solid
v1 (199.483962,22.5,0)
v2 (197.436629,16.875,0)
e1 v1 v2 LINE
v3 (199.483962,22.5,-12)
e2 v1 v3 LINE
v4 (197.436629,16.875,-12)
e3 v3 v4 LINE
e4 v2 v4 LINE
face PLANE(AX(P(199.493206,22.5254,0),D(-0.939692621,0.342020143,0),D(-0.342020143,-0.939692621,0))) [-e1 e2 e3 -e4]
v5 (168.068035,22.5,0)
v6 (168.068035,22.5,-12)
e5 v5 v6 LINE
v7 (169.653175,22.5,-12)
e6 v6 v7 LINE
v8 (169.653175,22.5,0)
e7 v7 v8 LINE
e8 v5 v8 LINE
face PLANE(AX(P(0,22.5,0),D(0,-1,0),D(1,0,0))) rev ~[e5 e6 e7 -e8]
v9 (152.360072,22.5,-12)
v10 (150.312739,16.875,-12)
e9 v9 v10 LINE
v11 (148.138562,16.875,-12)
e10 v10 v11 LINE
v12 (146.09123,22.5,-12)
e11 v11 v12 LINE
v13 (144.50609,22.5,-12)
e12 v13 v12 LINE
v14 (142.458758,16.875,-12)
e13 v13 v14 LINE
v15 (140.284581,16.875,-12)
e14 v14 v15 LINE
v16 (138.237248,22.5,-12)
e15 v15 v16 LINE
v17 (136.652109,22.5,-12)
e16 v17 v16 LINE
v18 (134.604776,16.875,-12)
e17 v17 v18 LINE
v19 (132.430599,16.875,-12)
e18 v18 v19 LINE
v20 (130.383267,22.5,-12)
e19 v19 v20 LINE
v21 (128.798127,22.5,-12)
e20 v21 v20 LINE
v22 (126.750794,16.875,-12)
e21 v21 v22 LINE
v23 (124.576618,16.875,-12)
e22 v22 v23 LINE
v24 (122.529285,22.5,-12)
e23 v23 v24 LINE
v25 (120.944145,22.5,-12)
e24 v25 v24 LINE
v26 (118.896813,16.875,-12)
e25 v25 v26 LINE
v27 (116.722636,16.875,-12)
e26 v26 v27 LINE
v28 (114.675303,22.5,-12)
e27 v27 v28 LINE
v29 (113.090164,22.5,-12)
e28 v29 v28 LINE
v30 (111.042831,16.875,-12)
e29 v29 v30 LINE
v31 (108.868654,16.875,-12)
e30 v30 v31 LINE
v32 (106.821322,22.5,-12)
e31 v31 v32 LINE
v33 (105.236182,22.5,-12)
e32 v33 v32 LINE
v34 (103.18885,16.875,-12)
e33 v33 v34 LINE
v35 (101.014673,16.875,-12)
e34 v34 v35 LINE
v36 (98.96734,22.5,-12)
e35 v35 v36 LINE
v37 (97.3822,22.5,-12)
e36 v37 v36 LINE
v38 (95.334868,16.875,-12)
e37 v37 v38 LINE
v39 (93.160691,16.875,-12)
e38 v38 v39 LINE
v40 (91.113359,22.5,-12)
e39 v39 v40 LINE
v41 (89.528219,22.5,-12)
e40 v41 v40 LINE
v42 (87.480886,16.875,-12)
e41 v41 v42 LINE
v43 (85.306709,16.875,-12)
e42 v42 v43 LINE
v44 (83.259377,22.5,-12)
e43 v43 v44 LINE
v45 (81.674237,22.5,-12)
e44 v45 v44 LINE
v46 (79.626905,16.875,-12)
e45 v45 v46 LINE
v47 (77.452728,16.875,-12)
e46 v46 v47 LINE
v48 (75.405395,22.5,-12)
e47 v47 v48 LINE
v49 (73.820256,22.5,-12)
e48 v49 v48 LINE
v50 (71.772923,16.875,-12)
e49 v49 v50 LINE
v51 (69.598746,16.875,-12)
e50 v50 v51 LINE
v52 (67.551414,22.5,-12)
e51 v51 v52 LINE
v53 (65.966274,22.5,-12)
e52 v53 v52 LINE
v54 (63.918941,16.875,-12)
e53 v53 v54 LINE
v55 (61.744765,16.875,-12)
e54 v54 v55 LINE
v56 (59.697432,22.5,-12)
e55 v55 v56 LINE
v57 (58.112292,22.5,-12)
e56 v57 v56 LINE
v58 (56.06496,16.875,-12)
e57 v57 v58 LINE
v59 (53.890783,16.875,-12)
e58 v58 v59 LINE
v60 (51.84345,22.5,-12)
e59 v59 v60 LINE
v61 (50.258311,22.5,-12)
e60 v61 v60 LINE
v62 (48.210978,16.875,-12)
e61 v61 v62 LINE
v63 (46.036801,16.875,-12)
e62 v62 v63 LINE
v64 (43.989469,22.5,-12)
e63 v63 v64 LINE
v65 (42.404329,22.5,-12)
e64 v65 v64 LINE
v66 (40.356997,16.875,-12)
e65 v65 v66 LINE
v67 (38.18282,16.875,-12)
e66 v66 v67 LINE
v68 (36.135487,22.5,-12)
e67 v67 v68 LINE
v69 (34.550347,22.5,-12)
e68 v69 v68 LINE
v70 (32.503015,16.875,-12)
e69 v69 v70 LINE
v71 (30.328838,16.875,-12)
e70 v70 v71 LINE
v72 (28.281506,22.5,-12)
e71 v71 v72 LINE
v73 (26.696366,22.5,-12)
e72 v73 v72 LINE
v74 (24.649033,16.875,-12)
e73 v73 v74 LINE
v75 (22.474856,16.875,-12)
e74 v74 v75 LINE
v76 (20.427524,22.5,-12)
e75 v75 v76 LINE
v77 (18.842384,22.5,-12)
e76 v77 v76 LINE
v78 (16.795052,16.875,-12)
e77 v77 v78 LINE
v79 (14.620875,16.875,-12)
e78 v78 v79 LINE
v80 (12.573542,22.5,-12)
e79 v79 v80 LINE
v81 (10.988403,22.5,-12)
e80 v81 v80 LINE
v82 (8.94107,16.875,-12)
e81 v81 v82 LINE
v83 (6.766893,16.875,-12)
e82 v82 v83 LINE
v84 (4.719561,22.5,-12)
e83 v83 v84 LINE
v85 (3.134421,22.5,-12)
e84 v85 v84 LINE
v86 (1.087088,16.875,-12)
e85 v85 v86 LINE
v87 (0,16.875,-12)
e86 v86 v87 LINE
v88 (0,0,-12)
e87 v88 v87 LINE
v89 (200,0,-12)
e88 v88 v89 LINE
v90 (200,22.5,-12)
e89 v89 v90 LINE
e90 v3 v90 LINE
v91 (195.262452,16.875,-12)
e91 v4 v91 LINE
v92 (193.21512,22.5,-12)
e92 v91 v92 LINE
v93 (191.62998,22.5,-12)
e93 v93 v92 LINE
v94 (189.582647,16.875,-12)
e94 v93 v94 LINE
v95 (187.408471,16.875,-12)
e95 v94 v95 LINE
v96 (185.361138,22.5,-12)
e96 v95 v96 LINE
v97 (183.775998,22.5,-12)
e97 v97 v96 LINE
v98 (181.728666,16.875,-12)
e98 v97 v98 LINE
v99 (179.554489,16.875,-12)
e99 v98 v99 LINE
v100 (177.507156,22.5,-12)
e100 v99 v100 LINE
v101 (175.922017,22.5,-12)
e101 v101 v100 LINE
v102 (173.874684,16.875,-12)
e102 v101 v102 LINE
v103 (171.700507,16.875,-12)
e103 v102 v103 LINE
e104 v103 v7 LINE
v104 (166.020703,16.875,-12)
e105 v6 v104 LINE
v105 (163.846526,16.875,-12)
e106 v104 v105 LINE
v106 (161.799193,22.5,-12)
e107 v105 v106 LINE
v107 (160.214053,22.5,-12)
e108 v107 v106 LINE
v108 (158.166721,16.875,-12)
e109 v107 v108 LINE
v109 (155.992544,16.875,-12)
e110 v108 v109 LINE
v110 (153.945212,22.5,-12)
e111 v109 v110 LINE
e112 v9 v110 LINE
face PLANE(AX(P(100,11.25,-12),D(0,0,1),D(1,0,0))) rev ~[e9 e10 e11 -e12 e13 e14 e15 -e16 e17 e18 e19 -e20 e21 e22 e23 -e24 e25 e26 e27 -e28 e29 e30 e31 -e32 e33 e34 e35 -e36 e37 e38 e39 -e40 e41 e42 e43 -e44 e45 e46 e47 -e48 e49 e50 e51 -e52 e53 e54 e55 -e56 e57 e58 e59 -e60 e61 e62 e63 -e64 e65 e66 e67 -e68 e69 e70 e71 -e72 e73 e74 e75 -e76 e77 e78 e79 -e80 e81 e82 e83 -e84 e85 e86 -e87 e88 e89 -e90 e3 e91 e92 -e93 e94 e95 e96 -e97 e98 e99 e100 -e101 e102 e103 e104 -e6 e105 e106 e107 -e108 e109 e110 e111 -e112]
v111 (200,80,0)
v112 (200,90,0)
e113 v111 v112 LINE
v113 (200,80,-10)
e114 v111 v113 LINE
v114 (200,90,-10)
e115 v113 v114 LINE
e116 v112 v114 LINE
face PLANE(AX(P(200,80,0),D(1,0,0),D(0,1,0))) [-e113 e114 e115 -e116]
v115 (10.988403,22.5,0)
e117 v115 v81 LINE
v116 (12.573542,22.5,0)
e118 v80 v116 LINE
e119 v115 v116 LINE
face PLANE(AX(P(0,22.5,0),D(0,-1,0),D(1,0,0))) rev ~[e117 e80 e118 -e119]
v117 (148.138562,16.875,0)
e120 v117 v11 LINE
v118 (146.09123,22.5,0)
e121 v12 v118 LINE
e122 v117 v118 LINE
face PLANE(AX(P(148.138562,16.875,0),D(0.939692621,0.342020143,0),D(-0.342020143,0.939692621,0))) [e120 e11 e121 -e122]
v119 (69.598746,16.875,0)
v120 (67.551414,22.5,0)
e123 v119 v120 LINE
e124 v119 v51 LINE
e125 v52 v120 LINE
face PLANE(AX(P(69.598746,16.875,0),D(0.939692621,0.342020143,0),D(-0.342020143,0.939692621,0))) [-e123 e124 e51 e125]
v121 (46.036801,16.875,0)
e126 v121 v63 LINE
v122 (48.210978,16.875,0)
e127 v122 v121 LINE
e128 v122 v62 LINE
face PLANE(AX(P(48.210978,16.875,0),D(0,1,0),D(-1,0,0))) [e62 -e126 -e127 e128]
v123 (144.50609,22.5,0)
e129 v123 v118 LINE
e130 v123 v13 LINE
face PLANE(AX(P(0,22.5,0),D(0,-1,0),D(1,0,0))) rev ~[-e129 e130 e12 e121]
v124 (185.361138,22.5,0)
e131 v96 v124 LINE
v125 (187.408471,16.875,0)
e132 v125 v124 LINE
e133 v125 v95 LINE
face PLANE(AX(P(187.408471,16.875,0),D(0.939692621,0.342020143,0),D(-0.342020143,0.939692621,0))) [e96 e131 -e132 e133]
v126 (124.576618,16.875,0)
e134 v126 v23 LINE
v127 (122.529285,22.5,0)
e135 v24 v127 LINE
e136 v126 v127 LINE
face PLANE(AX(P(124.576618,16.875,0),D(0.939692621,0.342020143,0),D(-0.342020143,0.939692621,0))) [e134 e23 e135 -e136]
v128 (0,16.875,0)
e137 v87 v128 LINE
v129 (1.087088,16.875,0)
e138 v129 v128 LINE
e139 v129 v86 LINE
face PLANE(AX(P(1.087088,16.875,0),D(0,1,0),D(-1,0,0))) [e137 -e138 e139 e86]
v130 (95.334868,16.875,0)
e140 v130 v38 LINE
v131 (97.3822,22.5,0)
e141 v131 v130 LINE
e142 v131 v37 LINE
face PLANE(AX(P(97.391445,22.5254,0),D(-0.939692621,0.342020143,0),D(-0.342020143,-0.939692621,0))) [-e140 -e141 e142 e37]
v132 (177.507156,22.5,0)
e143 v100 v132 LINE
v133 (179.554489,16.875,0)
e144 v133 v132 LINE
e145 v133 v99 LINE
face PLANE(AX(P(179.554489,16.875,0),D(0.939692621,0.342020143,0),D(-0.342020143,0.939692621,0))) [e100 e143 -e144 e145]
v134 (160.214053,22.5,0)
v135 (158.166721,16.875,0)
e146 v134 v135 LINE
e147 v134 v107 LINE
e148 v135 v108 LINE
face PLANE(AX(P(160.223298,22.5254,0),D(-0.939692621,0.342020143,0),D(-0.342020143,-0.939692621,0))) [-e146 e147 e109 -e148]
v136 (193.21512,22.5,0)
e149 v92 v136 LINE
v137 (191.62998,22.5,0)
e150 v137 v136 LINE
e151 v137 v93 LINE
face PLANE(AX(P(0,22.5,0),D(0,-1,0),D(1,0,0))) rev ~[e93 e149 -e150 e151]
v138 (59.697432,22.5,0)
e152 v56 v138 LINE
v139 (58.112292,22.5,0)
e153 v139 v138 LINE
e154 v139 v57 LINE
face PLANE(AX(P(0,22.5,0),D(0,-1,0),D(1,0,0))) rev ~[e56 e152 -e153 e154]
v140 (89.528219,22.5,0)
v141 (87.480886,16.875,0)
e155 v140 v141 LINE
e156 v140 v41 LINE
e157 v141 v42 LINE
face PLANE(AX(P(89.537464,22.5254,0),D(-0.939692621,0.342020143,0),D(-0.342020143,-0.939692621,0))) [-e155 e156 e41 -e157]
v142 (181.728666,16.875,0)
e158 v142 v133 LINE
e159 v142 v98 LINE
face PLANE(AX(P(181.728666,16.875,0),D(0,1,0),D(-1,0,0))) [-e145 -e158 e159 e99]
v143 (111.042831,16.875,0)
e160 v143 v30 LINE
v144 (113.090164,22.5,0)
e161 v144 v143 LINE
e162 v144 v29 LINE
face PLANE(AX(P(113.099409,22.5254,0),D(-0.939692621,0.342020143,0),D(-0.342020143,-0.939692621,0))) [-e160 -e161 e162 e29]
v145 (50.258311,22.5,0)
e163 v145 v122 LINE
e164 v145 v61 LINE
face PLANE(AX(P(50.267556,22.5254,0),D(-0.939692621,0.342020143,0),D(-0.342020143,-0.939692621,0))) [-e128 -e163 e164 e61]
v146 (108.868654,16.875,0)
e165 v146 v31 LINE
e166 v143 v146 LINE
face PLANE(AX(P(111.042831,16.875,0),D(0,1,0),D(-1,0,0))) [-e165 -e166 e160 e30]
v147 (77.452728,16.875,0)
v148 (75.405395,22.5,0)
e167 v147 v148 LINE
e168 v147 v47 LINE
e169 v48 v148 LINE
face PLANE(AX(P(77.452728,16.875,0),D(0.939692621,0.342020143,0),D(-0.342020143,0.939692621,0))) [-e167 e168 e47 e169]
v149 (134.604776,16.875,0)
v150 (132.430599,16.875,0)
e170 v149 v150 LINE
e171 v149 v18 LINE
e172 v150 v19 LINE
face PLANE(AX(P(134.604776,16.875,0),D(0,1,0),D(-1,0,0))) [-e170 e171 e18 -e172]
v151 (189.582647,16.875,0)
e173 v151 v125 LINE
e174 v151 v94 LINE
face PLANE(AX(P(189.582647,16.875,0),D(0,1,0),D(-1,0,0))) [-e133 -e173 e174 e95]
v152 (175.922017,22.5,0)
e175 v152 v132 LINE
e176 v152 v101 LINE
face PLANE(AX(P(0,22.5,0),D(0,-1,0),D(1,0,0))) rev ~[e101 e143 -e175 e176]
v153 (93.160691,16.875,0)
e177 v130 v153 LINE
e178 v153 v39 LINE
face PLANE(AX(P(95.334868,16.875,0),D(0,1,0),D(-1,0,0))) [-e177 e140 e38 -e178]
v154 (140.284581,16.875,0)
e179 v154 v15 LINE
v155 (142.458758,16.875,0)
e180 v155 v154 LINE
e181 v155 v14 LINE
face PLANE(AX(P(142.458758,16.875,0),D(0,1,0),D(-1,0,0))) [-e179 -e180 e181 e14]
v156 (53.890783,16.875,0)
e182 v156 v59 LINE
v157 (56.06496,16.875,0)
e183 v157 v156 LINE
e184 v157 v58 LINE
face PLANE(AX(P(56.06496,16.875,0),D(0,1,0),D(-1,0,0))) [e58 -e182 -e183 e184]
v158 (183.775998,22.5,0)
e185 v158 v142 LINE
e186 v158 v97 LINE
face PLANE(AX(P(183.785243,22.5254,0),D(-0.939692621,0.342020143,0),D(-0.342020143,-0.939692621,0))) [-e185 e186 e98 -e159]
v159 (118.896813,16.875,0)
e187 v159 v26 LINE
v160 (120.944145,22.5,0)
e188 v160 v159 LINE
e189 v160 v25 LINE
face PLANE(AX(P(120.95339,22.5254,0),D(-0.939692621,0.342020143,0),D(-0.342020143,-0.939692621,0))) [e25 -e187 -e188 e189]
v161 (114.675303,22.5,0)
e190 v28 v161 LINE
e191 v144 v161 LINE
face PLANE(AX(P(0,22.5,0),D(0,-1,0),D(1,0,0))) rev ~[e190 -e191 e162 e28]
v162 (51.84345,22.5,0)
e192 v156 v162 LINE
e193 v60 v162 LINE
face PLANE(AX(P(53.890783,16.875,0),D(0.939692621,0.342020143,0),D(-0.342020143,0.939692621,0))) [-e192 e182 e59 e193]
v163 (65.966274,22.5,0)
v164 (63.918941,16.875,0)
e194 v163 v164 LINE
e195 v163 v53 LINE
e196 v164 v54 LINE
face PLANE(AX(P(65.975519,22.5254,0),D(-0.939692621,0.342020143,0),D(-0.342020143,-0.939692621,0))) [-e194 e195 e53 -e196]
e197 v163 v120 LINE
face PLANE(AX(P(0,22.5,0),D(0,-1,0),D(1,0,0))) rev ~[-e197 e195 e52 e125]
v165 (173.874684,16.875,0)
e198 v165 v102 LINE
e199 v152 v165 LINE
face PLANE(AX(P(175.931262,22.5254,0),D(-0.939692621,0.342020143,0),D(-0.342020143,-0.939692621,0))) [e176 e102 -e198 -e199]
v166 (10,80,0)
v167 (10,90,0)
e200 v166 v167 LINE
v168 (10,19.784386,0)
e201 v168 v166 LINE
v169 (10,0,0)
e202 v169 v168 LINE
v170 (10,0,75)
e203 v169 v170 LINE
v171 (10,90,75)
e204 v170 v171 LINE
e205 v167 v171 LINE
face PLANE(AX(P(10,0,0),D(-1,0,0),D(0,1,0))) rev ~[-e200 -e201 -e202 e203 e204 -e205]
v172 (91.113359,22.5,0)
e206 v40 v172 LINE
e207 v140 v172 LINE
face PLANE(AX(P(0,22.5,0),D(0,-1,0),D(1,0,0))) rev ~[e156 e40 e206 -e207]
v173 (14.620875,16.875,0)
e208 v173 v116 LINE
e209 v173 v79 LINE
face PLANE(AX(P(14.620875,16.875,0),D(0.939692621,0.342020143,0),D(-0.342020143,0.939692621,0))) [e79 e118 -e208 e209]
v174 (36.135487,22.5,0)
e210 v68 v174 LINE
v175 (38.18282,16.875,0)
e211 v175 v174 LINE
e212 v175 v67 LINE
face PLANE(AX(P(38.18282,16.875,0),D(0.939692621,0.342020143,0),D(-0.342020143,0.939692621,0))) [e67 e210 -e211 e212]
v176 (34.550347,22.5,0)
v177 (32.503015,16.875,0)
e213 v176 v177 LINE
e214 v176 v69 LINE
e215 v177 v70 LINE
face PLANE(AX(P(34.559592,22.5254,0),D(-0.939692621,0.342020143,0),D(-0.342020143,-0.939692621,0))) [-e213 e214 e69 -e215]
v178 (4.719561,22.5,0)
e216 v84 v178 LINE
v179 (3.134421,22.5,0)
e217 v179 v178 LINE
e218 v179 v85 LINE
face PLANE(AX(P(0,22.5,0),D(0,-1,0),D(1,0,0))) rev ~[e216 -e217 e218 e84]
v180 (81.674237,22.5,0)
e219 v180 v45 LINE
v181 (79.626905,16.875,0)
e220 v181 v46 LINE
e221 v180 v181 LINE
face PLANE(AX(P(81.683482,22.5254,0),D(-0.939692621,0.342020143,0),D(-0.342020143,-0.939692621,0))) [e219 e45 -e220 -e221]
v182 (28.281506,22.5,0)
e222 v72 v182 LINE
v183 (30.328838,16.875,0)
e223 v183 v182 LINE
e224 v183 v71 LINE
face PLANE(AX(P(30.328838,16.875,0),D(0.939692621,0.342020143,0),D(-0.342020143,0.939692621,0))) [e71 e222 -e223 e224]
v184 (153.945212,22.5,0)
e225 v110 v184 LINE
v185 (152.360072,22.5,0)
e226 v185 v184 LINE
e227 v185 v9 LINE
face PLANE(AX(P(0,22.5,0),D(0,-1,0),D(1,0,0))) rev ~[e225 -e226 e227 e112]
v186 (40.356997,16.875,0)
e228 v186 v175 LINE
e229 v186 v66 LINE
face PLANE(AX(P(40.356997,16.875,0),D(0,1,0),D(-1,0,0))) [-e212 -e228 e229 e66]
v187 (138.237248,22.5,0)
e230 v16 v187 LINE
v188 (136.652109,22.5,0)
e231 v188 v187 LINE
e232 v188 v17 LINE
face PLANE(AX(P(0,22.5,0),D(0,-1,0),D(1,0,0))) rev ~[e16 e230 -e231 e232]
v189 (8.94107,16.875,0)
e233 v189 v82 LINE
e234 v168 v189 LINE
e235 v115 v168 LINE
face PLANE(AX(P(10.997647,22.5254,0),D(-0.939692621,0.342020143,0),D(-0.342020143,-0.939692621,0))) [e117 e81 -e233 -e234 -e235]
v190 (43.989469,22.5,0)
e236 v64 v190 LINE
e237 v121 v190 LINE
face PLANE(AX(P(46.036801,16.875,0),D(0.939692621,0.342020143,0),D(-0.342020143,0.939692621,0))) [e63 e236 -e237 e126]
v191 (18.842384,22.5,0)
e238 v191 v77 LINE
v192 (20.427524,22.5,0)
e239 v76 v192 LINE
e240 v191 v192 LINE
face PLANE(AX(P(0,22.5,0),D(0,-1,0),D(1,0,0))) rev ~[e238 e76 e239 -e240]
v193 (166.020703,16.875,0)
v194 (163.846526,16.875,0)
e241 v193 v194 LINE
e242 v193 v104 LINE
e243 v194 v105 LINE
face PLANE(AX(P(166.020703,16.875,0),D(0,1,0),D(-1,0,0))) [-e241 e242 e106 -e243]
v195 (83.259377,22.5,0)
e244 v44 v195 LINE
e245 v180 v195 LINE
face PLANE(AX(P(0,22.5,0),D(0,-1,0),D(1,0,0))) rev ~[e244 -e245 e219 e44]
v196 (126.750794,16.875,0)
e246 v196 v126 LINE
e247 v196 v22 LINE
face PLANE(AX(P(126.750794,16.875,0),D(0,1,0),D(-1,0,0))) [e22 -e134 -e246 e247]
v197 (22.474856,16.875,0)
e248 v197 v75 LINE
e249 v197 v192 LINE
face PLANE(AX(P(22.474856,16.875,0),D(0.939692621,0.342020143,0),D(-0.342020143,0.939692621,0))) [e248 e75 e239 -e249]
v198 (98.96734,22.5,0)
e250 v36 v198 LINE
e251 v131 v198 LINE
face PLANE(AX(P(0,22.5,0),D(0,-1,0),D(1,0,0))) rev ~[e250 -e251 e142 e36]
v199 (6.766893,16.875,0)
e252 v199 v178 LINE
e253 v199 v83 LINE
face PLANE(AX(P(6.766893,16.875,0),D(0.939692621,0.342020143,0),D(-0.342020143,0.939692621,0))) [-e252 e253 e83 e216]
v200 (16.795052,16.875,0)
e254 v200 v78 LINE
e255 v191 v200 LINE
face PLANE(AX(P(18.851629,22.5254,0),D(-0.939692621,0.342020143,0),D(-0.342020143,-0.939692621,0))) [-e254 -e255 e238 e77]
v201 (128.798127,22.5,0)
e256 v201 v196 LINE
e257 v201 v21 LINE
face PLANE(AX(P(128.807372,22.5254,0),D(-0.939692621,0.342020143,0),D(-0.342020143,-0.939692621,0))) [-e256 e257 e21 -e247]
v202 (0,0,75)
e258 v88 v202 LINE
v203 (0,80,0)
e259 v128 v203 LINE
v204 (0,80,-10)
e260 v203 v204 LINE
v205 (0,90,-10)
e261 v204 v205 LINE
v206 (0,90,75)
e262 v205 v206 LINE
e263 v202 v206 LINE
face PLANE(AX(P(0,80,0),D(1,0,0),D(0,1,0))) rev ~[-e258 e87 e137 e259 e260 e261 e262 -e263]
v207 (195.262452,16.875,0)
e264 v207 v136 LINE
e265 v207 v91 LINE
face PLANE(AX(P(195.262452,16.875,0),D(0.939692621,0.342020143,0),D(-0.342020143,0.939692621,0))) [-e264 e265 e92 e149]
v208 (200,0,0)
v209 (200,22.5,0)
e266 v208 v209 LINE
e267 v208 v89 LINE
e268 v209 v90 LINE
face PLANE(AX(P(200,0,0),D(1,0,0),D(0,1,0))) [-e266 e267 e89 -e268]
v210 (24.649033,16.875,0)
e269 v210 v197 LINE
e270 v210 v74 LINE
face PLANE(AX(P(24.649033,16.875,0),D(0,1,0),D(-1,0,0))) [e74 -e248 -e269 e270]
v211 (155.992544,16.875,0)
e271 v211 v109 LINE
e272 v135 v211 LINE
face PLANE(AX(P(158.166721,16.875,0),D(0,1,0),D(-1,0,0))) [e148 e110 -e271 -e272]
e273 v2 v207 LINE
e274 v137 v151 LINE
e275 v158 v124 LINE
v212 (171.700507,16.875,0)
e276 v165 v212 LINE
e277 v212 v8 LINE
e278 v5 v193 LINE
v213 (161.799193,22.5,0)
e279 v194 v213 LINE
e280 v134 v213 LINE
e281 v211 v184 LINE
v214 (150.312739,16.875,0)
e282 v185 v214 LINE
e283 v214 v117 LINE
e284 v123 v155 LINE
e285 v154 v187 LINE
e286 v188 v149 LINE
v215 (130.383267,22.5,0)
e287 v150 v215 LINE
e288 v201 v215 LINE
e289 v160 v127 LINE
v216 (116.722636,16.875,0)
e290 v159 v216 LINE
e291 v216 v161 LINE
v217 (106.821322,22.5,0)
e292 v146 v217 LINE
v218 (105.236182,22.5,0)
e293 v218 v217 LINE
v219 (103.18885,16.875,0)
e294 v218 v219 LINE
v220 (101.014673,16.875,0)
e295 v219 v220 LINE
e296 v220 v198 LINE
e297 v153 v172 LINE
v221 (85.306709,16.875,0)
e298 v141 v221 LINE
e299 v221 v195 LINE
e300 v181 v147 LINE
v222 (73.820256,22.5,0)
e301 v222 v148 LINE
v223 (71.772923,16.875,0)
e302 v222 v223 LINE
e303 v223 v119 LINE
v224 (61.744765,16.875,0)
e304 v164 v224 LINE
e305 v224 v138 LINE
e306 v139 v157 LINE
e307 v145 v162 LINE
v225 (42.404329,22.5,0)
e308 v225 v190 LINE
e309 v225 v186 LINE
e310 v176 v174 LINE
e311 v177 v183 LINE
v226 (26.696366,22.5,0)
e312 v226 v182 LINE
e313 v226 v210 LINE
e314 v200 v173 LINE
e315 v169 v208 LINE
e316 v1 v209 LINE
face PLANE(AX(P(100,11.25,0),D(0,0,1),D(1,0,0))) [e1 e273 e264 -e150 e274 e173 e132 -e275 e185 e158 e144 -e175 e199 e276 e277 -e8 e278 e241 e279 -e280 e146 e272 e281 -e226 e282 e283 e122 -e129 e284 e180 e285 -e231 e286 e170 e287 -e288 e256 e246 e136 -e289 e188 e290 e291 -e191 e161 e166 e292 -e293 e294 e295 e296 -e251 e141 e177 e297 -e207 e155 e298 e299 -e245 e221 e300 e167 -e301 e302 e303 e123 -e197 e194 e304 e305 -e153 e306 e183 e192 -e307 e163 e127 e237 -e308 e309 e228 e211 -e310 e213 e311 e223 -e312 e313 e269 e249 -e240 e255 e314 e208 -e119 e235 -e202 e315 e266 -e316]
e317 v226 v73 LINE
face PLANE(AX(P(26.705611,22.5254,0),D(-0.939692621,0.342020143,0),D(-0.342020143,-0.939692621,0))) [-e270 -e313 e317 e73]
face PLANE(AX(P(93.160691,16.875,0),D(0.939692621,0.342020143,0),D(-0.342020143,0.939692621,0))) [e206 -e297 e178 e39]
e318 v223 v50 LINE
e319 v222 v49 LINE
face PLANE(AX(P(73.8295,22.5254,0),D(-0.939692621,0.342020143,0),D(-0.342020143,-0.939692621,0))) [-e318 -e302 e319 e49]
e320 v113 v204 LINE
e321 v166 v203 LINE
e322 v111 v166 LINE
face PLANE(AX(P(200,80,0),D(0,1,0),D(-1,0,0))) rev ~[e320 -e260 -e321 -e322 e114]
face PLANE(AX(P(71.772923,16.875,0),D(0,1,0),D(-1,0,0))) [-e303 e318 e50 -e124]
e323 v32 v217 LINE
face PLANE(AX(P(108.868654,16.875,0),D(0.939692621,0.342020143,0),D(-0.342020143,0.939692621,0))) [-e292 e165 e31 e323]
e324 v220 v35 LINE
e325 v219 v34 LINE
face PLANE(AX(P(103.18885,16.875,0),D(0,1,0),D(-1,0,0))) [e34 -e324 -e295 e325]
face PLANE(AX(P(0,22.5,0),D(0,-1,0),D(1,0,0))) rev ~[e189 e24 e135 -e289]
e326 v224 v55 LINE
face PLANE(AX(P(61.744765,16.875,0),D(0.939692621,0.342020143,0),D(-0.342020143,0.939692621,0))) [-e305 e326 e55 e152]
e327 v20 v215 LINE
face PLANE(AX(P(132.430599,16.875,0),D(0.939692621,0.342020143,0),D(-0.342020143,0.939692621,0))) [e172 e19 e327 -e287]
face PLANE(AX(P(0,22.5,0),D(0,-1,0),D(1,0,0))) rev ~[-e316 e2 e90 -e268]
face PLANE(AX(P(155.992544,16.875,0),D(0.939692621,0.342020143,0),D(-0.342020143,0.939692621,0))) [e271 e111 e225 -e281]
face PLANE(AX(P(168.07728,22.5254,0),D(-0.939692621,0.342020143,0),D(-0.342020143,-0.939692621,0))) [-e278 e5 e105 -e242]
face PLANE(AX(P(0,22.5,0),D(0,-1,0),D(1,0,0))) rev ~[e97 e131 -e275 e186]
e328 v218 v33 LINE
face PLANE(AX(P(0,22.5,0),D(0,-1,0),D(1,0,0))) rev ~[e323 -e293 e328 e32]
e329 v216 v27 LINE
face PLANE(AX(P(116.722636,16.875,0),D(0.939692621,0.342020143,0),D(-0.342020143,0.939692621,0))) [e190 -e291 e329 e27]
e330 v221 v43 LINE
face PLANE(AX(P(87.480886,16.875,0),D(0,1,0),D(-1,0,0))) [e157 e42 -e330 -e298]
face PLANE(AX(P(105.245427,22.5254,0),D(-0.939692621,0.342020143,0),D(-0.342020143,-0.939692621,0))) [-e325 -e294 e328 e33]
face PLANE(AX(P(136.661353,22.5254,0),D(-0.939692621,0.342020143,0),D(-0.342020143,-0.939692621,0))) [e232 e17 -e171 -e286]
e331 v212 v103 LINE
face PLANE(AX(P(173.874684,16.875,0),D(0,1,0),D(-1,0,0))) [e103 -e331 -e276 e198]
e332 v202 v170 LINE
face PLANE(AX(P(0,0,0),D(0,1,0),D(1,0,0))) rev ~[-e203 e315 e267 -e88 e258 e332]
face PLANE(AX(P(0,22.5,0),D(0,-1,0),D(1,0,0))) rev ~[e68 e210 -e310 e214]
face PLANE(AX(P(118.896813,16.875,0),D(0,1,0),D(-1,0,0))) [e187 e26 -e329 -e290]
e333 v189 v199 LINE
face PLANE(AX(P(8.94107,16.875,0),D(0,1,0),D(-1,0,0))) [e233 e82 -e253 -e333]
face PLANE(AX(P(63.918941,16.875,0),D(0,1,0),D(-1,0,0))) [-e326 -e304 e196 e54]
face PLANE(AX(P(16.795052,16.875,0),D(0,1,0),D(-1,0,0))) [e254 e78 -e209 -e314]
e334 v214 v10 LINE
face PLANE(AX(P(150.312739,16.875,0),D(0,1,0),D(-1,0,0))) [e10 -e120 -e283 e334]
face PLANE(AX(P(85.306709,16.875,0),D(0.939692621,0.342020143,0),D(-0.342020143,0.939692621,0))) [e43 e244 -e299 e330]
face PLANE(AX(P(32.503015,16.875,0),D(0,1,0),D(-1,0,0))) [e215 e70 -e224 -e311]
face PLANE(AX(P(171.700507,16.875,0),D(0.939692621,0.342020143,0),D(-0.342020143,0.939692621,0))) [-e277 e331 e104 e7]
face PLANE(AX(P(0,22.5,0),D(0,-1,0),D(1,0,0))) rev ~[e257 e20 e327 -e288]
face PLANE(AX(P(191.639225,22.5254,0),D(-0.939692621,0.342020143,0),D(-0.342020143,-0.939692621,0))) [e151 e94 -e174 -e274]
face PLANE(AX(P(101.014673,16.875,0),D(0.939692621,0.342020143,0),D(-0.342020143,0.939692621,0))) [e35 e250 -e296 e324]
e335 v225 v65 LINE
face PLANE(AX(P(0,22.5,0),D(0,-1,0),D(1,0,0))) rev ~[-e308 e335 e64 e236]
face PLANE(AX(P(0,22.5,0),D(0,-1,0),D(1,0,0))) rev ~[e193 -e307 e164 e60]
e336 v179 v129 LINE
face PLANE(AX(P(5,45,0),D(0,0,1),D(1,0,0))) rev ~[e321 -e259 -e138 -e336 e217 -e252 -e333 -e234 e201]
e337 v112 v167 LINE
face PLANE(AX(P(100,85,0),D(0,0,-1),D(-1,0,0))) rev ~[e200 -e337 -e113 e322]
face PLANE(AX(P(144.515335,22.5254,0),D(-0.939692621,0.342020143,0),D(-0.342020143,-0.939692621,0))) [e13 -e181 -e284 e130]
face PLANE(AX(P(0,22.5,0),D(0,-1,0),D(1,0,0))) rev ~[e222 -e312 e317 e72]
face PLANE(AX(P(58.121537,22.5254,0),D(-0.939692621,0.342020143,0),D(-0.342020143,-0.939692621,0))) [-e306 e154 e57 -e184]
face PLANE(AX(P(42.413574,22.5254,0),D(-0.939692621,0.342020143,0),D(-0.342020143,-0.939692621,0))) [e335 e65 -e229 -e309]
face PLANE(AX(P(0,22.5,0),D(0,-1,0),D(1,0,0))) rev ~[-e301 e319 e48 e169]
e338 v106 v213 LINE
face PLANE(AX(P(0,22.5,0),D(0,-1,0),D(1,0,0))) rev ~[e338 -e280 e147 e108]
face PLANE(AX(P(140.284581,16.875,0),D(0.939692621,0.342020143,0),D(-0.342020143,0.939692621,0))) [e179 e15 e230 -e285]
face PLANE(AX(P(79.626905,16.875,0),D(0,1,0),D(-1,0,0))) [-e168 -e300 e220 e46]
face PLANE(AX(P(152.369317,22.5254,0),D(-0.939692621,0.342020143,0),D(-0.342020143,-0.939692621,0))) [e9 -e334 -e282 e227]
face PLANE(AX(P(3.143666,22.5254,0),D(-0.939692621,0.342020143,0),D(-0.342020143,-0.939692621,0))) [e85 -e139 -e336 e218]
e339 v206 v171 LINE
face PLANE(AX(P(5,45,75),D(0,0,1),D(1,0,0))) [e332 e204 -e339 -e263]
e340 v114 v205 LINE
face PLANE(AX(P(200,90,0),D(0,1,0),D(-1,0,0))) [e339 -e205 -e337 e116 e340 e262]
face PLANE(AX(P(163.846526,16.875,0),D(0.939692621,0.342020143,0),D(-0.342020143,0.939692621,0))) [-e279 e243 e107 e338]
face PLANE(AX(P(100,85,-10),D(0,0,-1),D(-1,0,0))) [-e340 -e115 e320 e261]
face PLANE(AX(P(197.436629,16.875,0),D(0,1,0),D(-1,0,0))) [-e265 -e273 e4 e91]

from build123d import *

# Parameters (mm, degrees)
BLANKSKE_W          = 200
BLANKSKE_H          = 22.5
BLANK_DEPTH         = 12
TOOTHCUTSIM_DEPTH   = 202.619071519
TEETHCUTS_COUNT     = 26
TEETHCUTS_PITCH     = 7.853981625
SKETCH2_W           = 10
SKETCH2_H           = 90
BOSS_EXTRUDE1_DEPTH = 75
SKETCH3_W           = 200
SKETCH3_H           = 10
BOSS_EXTRUDE2_DEPTH = 10


with BuildPart() as part:
    # BlankSke → Blank (new body)
    with BuildSketch(Plane.XY):
        with Locations((100, 11.25)):
            Rectangle(BLANKSKE_W, BLANKSKE_H)
    extrude(amount=-BLANK_DEPTH)

    # TooCutSkeSim → ToothCutSim (cut, through all)
    with BuildSketch(Plane.XY):
        Polygon((1.087088424, 16.875), (-1.087088424, 16.875), (-3.143665836, 22.5254), (3.143665836, 22.5254), align=None)
    toothcutsim = extrude(amount=-TOOTHCUTSIM_DEPTH, mode=Mode.SUBTRACT)

    # TeethCuts: ToothCutSim ×26
    with Locations(*[(i * TEETHCUTS_PITCH, 0, 0) for i in range(1, TEETHCUTS_COUNT)]):
        add(toothcutsim, mode=Mode.SUBTRACT)

    # Sketch2 → Boss-Extrude1 (add)
    with BuildSketch(Plane.XY):
        with Locations((5, 45)):
            Rectangle(SKETCH2_W, SKETCH2_H)
    extrude(amount=BOSS_EXTRUDE1_DEPTH)

    # Sketch3 → Boss-Extrude2 (add)
    with BuildSketch(Plane(origin=(0, 0, 0), x_dir=(-1, 0, 0), z_dir=(0, 0, -1))):
        with Locations((-100, 85)):
            Rectangle(SKETCH3_W, SKETCH3_H)
    extrude(amount=BOSS_EXTRUDE2_DEPTH)


solid = part.part
